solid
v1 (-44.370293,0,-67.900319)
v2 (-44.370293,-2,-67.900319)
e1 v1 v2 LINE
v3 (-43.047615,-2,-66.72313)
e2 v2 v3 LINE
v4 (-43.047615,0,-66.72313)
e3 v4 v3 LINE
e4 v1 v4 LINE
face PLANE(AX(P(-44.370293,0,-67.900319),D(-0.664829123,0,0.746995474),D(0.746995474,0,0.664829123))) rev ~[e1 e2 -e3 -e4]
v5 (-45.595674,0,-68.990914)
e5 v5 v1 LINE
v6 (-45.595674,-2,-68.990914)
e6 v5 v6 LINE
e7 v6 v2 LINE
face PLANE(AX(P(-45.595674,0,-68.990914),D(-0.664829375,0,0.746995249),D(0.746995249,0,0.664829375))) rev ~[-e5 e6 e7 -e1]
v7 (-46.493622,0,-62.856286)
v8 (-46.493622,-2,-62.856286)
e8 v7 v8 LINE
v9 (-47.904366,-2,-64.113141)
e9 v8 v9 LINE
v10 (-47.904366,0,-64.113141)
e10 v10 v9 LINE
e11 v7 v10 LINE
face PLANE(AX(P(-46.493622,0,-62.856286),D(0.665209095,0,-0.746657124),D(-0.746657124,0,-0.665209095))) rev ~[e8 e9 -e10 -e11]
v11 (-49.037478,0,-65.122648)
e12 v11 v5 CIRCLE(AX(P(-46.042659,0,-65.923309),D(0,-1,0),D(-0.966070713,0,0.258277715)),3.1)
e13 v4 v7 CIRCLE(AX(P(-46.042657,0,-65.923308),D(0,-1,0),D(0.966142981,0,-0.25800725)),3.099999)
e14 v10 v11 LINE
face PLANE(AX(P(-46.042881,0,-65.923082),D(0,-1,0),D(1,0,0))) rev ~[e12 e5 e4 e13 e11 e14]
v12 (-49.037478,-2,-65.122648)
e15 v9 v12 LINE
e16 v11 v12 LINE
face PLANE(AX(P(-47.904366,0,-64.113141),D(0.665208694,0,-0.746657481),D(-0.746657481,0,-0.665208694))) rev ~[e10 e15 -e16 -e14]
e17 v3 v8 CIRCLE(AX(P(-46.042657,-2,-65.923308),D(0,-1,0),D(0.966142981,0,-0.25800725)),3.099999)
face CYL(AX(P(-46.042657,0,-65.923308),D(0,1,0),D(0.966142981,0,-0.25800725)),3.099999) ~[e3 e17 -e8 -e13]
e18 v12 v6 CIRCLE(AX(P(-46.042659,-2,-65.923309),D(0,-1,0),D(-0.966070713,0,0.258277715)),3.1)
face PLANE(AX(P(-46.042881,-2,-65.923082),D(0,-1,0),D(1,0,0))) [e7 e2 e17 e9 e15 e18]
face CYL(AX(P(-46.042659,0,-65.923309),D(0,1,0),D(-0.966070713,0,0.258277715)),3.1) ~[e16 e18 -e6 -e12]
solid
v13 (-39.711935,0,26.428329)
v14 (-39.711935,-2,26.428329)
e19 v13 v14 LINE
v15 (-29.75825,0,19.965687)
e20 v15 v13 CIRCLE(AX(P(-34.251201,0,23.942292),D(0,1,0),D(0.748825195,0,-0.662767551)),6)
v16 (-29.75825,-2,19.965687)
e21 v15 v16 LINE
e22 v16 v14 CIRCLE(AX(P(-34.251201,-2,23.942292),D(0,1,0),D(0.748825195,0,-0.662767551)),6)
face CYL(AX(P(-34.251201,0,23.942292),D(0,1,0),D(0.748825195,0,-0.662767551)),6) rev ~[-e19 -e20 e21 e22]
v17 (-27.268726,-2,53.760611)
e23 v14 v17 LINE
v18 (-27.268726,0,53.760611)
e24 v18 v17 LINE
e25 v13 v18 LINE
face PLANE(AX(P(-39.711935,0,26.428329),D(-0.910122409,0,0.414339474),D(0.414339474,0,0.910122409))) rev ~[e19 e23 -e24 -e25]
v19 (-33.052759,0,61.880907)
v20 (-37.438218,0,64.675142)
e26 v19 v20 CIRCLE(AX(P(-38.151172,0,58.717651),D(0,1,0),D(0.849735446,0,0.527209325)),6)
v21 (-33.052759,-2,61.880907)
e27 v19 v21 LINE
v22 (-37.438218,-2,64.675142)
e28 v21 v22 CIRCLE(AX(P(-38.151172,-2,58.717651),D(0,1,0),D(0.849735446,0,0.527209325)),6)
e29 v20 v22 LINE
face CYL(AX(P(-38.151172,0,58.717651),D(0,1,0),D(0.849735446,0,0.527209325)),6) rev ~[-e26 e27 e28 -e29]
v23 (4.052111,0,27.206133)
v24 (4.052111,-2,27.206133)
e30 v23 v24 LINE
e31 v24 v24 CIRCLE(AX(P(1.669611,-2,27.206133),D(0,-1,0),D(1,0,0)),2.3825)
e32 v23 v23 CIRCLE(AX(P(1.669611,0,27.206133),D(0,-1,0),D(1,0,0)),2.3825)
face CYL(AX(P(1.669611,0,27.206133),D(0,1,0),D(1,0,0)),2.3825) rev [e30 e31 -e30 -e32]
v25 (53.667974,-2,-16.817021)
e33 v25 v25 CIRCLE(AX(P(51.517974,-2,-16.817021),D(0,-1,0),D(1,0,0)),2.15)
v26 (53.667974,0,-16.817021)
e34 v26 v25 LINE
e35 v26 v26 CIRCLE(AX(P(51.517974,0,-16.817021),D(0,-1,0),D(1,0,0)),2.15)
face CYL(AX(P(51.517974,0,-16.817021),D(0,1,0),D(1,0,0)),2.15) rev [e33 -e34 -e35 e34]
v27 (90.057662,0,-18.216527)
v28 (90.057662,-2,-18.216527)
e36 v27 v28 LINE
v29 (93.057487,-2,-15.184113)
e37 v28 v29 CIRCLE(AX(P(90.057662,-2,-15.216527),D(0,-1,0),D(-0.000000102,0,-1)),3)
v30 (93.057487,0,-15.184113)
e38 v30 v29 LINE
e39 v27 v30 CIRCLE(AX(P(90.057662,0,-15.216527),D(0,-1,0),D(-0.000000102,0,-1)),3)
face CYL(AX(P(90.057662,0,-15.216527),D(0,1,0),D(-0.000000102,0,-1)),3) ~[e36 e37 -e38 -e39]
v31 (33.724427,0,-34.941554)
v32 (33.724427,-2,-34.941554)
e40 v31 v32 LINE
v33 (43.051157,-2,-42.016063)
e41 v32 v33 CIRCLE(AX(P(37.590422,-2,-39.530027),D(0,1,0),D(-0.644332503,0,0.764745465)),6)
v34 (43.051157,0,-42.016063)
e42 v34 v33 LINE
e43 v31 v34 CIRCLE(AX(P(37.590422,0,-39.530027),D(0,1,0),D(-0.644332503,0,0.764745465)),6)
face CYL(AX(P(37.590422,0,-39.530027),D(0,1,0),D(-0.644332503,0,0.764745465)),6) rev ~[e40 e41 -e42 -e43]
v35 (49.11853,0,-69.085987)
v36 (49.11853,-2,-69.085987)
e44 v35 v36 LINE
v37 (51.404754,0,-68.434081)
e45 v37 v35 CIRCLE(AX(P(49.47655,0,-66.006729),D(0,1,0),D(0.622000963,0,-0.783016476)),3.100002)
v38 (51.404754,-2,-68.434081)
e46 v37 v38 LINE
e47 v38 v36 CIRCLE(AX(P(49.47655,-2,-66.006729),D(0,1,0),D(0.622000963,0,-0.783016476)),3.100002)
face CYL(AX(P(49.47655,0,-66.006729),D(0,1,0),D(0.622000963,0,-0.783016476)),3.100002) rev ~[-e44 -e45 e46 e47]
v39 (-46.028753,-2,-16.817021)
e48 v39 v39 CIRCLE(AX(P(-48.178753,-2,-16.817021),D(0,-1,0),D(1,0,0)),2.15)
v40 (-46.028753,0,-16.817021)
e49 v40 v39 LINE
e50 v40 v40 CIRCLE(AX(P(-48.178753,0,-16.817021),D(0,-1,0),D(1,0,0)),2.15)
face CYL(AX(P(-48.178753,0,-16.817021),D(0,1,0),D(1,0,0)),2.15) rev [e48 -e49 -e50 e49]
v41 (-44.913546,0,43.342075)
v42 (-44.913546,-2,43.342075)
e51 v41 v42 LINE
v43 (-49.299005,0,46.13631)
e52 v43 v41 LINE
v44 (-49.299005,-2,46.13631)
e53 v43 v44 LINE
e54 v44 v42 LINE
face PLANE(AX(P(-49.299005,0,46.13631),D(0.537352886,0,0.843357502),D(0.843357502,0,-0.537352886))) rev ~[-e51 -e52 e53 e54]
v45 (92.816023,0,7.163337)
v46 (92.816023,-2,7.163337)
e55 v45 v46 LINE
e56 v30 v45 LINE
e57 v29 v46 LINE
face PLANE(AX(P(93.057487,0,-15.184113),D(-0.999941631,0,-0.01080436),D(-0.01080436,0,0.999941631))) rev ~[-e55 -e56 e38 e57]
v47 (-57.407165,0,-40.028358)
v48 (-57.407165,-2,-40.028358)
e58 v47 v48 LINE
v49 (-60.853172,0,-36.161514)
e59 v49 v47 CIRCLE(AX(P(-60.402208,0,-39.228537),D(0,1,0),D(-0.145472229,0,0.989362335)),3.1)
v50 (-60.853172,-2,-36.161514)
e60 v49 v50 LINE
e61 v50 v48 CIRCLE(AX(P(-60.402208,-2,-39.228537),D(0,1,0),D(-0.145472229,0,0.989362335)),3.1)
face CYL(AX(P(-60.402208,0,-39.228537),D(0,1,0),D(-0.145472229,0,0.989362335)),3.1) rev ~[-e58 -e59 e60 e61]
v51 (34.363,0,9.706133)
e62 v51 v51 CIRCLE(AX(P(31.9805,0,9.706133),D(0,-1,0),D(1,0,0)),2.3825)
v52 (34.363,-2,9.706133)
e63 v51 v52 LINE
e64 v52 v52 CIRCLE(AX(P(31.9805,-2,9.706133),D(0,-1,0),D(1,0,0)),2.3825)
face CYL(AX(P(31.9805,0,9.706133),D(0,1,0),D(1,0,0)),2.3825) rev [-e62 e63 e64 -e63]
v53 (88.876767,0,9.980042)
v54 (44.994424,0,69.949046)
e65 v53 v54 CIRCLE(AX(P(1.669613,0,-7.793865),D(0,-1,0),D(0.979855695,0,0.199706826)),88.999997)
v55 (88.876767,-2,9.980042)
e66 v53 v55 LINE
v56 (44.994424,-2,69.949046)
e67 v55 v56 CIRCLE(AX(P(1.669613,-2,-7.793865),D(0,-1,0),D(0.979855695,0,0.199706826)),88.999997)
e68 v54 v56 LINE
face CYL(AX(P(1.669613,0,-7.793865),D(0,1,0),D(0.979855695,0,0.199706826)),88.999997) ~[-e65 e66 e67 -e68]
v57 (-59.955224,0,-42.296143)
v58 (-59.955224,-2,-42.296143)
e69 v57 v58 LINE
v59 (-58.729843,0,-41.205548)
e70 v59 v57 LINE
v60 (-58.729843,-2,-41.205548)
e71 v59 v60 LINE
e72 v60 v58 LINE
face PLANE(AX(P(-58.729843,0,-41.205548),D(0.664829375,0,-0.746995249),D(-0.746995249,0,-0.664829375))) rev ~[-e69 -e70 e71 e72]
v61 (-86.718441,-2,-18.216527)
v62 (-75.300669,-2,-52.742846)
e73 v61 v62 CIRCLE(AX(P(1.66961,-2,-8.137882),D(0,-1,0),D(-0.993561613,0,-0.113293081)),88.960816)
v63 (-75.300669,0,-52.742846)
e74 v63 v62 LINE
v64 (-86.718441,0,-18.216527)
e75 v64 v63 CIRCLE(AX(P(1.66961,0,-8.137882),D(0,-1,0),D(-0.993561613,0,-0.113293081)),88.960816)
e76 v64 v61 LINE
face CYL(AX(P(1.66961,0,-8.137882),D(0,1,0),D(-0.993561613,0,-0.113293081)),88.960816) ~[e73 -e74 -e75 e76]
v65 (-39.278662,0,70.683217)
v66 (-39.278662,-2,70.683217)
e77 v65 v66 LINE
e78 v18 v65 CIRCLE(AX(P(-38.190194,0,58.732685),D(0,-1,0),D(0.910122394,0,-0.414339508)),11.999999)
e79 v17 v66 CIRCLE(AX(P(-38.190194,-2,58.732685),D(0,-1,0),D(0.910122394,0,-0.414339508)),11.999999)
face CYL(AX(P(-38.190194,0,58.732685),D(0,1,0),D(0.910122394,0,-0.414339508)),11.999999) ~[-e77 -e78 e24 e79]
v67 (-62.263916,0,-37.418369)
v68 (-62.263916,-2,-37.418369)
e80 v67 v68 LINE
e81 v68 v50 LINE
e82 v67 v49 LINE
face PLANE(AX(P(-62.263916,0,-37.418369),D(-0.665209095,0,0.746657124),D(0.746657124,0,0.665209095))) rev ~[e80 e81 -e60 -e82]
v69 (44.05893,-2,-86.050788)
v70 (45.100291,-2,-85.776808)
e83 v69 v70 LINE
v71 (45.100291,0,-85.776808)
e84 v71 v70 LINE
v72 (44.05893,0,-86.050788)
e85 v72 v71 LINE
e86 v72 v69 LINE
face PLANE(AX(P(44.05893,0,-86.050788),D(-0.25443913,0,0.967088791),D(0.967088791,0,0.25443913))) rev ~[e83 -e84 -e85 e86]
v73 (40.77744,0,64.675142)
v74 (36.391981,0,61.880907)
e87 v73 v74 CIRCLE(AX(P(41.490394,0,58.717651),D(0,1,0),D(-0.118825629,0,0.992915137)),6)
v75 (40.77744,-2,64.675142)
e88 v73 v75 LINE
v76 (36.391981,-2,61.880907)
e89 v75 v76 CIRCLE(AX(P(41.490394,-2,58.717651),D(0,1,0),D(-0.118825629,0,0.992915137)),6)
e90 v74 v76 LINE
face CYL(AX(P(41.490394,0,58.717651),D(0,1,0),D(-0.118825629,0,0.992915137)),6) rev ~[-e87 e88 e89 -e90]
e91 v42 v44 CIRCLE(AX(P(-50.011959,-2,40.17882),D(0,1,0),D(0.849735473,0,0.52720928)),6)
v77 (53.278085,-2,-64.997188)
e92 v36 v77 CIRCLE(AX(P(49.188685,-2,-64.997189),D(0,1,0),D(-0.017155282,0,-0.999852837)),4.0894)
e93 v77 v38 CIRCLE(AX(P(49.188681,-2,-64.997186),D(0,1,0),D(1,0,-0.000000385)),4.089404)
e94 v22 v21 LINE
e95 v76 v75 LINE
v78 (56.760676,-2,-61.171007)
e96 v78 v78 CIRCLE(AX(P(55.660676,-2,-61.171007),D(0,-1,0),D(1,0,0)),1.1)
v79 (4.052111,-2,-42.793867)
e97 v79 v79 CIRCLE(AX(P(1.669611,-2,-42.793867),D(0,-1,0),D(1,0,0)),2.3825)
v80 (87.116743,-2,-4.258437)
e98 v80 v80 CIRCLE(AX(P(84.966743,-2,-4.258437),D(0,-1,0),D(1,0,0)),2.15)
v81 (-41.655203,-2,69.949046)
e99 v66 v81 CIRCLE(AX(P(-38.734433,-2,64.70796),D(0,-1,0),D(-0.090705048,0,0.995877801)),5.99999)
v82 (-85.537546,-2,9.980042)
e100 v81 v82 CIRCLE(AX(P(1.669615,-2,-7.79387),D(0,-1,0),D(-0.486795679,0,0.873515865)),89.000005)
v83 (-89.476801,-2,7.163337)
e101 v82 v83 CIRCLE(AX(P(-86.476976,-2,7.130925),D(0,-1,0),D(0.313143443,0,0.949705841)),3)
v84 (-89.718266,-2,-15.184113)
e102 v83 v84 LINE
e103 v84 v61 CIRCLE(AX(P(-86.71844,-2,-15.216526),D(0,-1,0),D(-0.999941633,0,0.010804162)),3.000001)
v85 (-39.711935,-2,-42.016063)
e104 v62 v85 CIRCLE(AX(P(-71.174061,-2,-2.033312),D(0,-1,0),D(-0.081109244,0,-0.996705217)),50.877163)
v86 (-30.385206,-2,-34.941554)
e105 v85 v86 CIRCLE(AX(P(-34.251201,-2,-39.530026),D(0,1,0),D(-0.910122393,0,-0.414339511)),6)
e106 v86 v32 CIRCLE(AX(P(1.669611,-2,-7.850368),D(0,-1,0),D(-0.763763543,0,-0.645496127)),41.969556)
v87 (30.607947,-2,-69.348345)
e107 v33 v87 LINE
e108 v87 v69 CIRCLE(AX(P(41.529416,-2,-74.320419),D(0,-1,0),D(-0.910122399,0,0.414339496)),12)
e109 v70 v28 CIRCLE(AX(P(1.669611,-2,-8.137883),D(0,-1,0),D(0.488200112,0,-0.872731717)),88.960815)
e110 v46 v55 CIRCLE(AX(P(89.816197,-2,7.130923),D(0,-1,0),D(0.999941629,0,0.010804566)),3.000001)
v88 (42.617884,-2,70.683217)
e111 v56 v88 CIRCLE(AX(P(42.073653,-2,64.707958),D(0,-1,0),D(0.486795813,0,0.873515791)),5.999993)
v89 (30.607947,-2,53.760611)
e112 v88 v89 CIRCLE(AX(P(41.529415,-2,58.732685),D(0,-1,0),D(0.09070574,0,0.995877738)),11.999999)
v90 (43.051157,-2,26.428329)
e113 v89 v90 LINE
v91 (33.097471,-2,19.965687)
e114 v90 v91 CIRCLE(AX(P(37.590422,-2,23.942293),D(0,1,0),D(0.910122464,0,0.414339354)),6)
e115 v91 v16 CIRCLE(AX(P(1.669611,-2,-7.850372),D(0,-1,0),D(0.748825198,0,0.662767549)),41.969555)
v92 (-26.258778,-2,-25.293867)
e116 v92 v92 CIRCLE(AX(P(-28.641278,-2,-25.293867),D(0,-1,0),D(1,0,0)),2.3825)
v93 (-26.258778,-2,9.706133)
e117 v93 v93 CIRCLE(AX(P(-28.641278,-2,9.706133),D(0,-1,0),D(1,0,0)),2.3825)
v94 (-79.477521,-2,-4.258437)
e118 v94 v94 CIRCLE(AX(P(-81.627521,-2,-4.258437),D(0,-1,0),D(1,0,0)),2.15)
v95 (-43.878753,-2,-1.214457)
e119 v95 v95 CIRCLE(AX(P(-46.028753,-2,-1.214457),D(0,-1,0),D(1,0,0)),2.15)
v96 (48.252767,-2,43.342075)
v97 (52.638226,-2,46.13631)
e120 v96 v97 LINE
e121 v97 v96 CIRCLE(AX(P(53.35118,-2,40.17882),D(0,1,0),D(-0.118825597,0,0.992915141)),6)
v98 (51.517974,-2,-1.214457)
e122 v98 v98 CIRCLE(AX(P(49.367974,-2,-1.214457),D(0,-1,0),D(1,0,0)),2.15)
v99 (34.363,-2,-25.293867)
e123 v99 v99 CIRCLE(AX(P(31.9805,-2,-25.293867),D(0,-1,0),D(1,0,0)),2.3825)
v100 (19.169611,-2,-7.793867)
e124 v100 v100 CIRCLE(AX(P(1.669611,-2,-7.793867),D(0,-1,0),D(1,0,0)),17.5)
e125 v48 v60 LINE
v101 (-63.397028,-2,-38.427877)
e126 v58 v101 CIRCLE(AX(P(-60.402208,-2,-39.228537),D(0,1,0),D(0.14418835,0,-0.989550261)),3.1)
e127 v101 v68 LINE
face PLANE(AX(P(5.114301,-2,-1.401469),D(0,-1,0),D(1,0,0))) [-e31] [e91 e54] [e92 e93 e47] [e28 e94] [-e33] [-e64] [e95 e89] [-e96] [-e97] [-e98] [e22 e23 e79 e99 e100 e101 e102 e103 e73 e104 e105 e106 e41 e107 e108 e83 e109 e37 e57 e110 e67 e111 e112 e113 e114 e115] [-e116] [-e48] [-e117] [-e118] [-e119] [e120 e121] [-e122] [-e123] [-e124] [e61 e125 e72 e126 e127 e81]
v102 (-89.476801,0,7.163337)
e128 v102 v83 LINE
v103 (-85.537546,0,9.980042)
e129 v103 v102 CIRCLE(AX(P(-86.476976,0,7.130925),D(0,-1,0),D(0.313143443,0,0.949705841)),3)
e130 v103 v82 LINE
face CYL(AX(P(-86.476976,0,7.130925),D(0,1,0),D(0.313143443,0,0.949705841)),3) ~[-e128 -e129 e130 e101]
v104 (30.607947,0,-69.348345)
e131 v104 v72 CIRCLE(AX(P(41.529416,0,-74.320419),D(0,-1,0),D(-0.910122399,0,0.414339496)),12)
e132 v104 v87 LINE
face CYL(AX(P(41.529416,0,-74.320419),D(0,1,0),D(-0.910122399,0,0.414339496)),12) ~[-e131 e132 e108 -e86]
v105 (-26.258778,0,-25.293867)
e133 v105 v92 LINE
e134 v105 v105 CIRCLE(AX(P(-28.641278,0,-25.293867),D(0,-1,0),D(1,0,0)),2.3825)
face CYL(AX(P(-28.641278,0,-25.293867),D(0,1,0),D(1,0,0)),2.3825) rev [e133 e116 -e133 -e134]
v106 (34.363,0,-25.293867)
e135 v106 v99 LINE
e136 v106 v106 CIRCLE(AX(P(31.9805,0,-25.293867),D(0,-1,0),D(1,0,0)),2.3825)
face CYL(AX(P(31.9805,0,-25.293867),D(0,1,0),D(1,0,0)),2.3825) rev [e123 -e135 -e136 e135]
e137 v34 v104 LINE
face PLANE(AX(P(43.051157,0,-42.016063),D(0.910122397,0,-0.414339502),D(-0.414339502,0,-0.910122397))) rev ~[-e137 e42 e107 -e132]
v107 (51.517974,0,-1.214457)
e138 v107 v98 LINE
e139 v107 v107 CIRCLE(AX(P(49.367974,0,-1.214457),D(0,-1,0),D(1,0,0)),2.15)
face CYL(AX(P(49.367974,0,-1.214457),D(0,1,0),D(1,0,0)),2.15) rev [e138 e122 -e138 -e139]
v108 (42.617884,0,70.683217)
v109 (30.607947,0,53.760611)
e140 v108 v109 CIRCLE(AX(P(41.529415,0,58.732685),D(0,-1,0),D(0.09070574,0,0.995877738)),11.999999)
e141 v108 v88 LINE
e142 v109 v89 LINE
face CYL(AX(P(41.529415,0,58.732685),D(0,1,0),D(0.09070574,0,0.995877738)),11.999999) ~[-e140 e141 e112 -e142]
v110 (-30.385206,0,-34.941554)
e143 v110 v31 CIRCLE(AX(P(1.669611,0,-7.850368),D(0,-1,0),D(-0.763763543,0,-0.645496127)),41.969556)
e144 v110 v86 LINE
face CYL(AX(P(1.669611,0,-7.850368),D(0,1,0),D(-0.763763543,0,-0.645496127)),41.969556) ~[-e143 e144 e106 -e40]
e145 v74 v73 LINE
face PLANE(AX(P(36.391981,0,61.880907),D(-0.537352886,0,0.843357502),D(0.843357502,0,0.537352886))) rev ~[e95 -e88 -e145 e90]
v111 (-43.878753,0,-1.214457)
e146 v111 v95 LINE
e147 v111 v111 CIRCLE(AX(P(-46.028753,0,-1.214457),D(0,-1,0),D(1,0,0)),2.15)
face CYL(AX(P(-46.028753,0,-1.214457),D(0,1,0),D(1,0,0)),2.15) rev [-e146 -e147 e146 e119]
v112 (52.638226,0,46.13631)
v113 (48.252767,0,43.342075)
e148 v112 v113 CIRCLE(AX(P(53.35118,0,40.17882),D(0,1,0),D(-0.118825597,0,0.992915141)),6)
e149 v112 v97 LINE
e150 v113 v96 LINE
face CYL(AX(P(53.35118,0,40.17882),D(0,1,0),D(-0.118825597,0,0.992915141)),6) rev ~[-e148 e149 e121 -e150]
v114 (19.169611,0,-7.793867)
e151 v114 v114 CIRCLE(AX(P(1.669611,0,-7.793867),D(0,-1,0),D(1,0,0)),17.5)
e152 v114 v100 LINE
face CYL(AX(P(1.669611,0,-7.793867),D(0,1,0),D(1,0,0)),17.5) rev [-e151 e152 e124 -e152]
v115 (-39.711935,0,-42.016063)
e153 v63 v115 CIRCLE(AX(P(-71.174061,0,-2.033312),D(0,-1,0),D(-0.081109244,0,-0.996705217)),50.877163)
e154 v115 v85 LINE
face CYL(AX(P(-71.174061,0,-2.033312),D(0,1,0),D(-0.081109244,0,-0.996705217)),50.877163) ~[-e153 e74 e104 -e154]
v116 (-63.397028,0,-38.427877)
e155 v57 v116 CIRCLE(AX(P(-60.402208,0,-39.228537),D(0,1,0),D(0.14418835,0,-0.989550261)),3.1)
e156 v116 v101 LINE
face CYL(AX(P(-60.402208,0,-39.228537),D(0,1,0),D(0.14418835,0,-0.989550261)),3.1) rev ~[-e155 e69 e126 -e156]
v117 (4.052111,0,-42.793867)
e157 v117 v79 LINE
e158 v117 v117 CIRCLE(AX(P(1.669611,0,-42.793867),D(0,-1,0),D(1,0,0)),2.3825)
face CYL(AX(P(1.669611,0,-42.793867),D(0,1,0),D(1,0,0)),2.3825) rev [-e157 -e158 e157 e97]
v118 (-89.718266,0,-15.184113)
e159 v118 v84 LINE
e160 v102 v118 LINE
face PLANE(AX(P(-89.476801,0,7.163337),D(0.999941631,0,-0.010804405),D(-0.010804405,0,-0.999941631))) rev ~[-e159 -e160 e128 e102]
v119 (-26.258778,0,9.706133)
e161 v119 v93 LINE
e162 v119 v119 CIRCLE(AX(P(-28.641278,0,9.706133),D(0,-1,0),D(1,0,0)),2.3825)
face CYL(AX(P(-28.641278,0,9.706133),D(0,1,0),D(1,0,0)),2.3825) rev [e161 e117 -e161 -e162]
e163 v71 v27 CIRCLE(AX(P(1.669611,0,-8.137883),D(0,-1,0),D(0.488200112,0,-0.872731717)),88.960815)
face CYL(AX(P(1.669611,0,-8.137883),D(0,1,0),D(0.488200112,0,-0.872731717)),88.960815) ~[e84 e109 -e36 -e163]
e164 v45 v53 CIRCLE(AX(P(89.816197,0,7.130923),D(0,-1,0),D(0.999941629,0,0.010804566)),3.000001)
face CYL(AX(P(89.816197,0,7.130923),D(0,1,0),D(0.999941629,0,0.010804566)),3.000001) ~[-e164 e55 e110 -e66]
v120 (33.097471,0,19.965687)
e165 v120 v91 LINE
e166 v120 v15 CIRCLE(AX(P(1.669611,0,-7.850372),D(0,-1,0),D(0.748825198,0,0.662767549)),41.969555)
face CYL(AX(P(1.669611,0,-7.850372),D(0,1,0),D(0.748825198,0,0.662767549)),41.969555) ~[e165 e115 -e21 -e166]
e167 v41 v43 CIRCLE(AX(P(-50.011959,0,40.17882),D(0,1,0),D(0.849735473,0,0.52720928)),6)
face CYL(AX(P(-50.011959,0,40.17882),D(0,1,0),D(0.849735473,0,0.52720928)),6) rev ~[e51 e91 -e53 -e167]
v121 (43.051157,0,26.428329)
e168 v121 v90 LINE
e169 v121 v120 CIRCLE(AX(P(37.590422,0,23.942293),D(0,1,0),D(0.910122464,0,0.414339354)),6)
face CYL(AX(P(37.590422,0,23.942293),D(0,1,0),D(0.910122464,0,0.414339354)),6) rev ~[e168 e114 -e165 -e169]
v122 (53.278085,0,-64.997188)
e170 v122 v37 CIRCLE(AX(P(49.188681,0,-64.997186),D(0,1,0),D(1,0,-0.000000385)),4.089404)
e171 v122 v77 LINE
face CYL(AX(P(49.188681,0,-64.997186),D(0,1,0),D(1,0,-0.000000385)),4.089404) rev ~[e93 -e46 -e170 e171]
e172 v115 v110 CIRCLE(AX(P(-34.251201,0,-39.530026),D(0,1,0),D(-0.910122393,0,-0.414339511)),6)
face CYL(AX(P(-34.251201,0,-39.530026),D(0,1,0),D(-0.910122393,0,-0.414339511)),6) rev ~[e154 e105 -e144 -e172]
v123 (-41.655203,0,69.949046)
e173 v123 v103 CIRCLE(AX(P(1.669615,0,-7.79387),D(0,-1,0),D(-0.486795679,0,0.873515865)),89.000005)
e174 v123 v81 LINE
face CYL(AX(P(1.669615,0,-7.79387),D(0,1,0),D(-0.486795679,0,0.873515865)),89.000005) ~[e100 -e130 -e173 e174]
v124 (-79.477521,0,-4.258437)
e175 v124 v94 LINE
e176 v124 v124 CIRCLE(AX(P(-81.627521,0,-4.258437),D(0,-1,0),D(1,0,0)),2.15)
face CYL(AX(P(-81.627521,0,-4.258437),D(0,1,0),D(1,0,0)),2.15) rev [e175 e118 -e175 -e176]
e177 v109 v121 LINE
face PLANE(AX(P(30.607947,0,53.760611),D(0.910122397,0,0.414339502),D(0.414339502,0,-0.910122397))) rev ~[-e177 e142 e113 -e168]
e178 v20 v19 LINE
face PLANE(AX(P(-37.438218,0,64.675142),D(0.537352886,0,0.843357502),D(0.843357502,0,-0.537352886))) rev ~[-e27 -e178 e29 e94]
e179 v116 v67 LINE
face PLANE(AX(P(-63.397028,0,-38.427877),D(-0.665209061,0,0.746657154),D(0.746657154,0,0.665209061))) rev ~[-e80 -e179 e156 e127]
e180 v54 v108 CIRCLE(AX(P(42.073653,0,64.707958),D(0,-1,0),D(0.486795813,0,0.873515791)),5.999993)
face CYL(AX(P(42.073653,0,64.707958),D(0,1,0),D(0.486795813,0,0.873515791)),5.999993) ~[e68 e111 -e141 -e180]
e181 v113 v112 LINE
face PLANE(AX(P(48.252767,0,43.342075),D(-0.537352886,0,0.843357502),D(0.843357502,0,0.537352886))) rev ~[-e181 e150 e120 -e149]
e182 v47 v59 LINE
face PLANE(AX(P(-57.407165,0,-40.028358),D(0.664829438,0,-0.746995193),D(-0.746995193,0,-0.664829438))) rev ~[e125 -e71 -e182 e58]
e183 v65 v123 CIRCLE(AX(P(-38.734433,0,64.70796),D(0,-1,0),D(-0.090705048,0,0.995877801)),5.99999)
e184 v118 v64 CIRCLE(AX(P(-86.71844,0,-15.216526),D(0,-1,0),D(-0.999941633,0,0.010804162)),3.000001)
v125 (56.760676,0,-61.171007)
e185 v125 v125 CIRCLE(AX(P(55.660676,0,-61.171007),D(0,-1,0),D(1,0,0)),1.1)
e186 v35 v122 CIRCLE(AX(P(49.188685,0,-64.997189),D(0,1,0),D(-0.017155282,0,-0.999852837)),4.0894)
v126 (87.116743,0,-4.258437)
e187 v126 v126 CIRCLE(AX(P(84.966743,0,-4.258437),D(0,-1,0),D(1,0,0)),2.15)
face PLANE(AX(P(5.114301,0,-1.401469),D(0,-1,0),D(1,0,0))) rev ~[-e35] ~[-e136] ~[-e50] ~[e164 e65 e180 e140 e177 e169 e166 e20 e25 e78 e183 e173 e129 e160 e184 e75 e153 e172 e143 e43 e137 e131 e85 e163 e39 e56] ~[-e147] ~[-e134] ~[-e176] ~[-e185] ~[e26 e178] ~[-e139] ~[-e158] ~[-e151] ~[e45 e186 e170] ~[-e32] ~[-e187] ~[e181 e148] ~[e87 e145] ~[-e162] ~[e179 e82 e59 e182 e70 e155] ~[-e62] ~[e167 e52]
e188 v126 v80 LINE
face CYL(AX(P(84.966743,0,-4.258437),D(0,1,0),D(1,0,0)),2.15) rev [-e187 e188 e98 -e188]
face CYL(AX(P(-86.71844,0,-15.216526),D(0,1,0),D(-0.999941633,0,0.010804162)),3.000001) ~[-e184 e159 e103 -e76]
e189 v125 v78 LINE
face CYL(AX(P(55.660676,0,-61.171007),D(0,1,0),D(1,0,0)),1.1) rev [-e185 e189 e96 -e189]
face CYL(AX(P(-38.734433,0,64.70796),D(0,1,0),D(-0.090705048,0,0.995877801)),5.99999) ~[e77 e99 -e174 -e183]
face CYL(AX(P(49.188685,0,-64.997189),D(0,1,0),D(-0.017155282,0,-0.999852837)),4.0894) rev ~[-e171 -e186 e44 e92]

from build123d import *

# Parameters (mm, degrees)
F0_R     = 2.15
F0_R_2   = 2.3825
F0_R_3   = 1.1
F0_R_4   = 17.5
F1_DEPTH = 2


with BuildPart() as f1:
    # F0 (on Front) → F1 (new body)
    with BuildSketch(Plane.XZ):
        with BuildLine():
            Line((-39.711935, 26.428329), (-27.268726, 53.760611))
            ThreePointArc((-27.268726, 53.760611), (-28.404203, 65.677781), (-39.278662, 70.683217))
            ThreePointArc((-39.278662, 70.683217), (-40.505395, 70.440636), (-41.655203, 69.949046))
            ThreePointArc((-41.655203, 69.949046), (-70.154613, 44.763538), (-85.537546, 9.980042))
            ThreePointArc((-85.537546, 9.980042), (-88.221901, 9.57126), (-89.476801, 7.163337))
            Line((-89.476801, 7.163337), (-89.718266, -15.184113))
            ThreePointArc((-89.718266, -15.184113), (-88.85119, -17.326356), (-86.718441, -18.216527))
            ThreePointArc((-86.718441, -18.216527), (-82.792577, -36.069327), (-75.300669, -52.742846))
            ThreePointArc((-75.300669, -52.742846), (-56.491636, -50.745858), (-39.711935, -42.016063))
            ThreePointArc((-39.711935, -42.016063), (-37.877214, -34.749647), (-30.385206, -34.941554))
            ThreePointArc((-30.385206, -34.941554), (1.669611, -49.819924), (33.724427, -34.941554))
            ThreePointArc((33.724427, -34.941554), (41.216435, -34.749647), (43.051157, -42.016063))
            Line((43.051157, -42.016063), (30.607947, -69.348345))
            ThreePointArc((30.607947, -69.348345), (32.18334, -81.847096), (44.05893, -86.050788))
            Line((44.05893, -86.050788), (45.100291, -85.776808))
            ThreePointArc((45.100291, -85.776808), (75.731358, -57.421595), (90.057662, -18.216527))
            ThreePointArc((90.057662, -18.216527), (92.190412, -17.326356), (93.057487, -15.184113))
            Line((93.057487, -15.184113), (92.816023, 7.163337))
            ThreePointArc((92.816023, 7.163337), (91.561122, 9.57126), (88.876767, 9.980042))
            ThreePointArc((88.876767, 9.980042), (73.493835, 44.763538), (44.994424, 69.949046))
            ThreePointArc((44.994424, 69.949046), (43.844616, 70.440636), (42.617884, 70.683217))
            ThreePointArc((42.617884, 70.683217), (31.743424, 65.677781), (30.607947, 53.760611))
            Line((30.607947, 53.760611), (43.051157, 26.428329))
            ThreePointArc((43.051157, 26.428329), (40.857774, 18.909956), (33.097471, 19.965687))
            ThreePointArc((33.097471, 19.965687), (1.669611, 34.119183), (-29.75825, 19.965687))
            ThreePointArc((-29.75825, 19.965687), (-37.518553, 18.909956), (-39.711935, 26.428329))
        make_face()
        with BuildLine():
            Line((-63.397028, -38.427877), (-62.263916, -37.418369))
            Line((-62.263916, -37.418369), (-60.853172, -36.161514))
            ThreePointArc((-60.853172, -36.161514), (-58.08786, -37.166065), (-57.407165, -40.028358))
            Line((-57.407165, -40.028358), (-58.729843, -41.205548))
            Line((-58.729843, -41.205548), (-59.955224, -42.296143))
            ThreePointArc((-59.955224, -42.296143), (-62.718182, -41.289184), (-63.397028, -38.427877))
        make_face(mode=Mode.SUBTRACT)
        with Locations((-48.178753, -16.817021)):
            Circle(F0_R, mode=Mode.SUBTRACT)
        with Locations((-28.641278, -25.293867)):
            Circle(F0_R_2, mode=Mode.SUBTRACT)
        with BuildLine():
            ThreePointArc((49.11853, -69.085987), (46.321953, -62.080848), (53.278085, -64.997188))
            ThreePointArc((53.278085, -64.997188), (52.779338, -66.954329), (51.404754, -68.434081))
            ThreePointArc((51.404754, -68.434081), (50.326618, -68.987902), (49.11853, -69.085987))
        make_face(mode=Mode.SUBTRACT)
        with Locations((55.660676, -61.171007)):
            Circle(F0_R_3, mode=Mode.SUBTRACT)
        with Locations((1.669611, -42.793867)):
            Circle(F0_R_2, mode=Mode.SUBTRACT)
        with Locations((1.669611, -7.793867)):
            Circle(F0_R_4, mode=Mode.SUBTRACT)
        with Locations((31.9805, -25.293867)):
            Circle(F0_R_2, mode=Mode.SUBTRACT)
        with Locations((51.517974, -16.817021)):
            Circle(F0_R, mode=Mode.SUBTRACT)
        with Locations((-81.627521, -4.258437)):
            Circle(F0_R, mode=Mode.SUBTRACT)
        with Locations((-46.028753, -1.214457)):
            Circle(F0_R, mode=Mode.SUBTRACT)
        with Locations((-28.641278, 9.706133)):
            Circle(F0_R_2, mode=Mode.SUBTRACT)
        with BuildLine():
            ThreePointArc((-44.913546, 43.342075), (-53.236076, 35.118675), (-49.299005, 46.13631))
            Line((-49.299005, 46.13631), (-44.913546, 43.342075))
        make_face(mode=Mode.SUBTRACT)
        with BuildLine():
            ThreePointArc((-33.052759, 61.880907), (-41.37529, 53.657506), (-37.438218, 64.675142))
            Line((-37.438218, 64.675142), (-33.052759, 61.880907))
        make_face(mode=Mode.SUBTRACT)
        with Locations((31.9805, 9.706133)):
            Circle(F0_R_2, mode=Mode.SUBTRACT)
        with Locations((1.669611, 27.206133)):
            Circle(F0_R_2, mode=Mode.SUBTRACT)
        with Locations((49.367974, -1.214457)):
            Circle(F0_R, mode=Mode.SUBTRACT)
        with Locations((84.966743, -4.258437)):
            Circle(F0_R, mode=Mode.SUBTRACT)
        with BuildLine():
            Line((36.391981, 61.880907), (40.77744, 64.675142))
            ThreePointArc((40.77744, 64.675142), (44.714511, 53.657506), (36.391981, 61.880907))
        make_face(mode=Mode.SUBTRACT)
        with BuildLine():
            Line((48.252767, 43.342075), (52.638226, 46.13631))
            ThreePointArc((52.638226, 46.13631), (56.575297, 35.118675), (48.252767, 43.342075))
        make_face(mode=Mode.SUBTRACT)
        with BuildLine():
            Line((-46.493622, -62.856286), (-47.904366, -64.113141))
            Line((-47.904366, -64.113141), (-49.037478, -65.122648))
            ThreePointArc((-49.037478, -65.122648), (-48.358633, -67.983955), (-45.595674, -68.990914))
            Line((-45.595674, -68.990914), (-44.370293, -67.900319))
            Line((-44.370293, -67.900319), (-43.047615, -66.72313))
            ThreePointArc((-43.047615, -66.72313), (-43.72831, -63.860836), (-46.493622, -62.856286))
        make_face()
    extrude(amount=F1_DEPTH)


solid = f1.part
